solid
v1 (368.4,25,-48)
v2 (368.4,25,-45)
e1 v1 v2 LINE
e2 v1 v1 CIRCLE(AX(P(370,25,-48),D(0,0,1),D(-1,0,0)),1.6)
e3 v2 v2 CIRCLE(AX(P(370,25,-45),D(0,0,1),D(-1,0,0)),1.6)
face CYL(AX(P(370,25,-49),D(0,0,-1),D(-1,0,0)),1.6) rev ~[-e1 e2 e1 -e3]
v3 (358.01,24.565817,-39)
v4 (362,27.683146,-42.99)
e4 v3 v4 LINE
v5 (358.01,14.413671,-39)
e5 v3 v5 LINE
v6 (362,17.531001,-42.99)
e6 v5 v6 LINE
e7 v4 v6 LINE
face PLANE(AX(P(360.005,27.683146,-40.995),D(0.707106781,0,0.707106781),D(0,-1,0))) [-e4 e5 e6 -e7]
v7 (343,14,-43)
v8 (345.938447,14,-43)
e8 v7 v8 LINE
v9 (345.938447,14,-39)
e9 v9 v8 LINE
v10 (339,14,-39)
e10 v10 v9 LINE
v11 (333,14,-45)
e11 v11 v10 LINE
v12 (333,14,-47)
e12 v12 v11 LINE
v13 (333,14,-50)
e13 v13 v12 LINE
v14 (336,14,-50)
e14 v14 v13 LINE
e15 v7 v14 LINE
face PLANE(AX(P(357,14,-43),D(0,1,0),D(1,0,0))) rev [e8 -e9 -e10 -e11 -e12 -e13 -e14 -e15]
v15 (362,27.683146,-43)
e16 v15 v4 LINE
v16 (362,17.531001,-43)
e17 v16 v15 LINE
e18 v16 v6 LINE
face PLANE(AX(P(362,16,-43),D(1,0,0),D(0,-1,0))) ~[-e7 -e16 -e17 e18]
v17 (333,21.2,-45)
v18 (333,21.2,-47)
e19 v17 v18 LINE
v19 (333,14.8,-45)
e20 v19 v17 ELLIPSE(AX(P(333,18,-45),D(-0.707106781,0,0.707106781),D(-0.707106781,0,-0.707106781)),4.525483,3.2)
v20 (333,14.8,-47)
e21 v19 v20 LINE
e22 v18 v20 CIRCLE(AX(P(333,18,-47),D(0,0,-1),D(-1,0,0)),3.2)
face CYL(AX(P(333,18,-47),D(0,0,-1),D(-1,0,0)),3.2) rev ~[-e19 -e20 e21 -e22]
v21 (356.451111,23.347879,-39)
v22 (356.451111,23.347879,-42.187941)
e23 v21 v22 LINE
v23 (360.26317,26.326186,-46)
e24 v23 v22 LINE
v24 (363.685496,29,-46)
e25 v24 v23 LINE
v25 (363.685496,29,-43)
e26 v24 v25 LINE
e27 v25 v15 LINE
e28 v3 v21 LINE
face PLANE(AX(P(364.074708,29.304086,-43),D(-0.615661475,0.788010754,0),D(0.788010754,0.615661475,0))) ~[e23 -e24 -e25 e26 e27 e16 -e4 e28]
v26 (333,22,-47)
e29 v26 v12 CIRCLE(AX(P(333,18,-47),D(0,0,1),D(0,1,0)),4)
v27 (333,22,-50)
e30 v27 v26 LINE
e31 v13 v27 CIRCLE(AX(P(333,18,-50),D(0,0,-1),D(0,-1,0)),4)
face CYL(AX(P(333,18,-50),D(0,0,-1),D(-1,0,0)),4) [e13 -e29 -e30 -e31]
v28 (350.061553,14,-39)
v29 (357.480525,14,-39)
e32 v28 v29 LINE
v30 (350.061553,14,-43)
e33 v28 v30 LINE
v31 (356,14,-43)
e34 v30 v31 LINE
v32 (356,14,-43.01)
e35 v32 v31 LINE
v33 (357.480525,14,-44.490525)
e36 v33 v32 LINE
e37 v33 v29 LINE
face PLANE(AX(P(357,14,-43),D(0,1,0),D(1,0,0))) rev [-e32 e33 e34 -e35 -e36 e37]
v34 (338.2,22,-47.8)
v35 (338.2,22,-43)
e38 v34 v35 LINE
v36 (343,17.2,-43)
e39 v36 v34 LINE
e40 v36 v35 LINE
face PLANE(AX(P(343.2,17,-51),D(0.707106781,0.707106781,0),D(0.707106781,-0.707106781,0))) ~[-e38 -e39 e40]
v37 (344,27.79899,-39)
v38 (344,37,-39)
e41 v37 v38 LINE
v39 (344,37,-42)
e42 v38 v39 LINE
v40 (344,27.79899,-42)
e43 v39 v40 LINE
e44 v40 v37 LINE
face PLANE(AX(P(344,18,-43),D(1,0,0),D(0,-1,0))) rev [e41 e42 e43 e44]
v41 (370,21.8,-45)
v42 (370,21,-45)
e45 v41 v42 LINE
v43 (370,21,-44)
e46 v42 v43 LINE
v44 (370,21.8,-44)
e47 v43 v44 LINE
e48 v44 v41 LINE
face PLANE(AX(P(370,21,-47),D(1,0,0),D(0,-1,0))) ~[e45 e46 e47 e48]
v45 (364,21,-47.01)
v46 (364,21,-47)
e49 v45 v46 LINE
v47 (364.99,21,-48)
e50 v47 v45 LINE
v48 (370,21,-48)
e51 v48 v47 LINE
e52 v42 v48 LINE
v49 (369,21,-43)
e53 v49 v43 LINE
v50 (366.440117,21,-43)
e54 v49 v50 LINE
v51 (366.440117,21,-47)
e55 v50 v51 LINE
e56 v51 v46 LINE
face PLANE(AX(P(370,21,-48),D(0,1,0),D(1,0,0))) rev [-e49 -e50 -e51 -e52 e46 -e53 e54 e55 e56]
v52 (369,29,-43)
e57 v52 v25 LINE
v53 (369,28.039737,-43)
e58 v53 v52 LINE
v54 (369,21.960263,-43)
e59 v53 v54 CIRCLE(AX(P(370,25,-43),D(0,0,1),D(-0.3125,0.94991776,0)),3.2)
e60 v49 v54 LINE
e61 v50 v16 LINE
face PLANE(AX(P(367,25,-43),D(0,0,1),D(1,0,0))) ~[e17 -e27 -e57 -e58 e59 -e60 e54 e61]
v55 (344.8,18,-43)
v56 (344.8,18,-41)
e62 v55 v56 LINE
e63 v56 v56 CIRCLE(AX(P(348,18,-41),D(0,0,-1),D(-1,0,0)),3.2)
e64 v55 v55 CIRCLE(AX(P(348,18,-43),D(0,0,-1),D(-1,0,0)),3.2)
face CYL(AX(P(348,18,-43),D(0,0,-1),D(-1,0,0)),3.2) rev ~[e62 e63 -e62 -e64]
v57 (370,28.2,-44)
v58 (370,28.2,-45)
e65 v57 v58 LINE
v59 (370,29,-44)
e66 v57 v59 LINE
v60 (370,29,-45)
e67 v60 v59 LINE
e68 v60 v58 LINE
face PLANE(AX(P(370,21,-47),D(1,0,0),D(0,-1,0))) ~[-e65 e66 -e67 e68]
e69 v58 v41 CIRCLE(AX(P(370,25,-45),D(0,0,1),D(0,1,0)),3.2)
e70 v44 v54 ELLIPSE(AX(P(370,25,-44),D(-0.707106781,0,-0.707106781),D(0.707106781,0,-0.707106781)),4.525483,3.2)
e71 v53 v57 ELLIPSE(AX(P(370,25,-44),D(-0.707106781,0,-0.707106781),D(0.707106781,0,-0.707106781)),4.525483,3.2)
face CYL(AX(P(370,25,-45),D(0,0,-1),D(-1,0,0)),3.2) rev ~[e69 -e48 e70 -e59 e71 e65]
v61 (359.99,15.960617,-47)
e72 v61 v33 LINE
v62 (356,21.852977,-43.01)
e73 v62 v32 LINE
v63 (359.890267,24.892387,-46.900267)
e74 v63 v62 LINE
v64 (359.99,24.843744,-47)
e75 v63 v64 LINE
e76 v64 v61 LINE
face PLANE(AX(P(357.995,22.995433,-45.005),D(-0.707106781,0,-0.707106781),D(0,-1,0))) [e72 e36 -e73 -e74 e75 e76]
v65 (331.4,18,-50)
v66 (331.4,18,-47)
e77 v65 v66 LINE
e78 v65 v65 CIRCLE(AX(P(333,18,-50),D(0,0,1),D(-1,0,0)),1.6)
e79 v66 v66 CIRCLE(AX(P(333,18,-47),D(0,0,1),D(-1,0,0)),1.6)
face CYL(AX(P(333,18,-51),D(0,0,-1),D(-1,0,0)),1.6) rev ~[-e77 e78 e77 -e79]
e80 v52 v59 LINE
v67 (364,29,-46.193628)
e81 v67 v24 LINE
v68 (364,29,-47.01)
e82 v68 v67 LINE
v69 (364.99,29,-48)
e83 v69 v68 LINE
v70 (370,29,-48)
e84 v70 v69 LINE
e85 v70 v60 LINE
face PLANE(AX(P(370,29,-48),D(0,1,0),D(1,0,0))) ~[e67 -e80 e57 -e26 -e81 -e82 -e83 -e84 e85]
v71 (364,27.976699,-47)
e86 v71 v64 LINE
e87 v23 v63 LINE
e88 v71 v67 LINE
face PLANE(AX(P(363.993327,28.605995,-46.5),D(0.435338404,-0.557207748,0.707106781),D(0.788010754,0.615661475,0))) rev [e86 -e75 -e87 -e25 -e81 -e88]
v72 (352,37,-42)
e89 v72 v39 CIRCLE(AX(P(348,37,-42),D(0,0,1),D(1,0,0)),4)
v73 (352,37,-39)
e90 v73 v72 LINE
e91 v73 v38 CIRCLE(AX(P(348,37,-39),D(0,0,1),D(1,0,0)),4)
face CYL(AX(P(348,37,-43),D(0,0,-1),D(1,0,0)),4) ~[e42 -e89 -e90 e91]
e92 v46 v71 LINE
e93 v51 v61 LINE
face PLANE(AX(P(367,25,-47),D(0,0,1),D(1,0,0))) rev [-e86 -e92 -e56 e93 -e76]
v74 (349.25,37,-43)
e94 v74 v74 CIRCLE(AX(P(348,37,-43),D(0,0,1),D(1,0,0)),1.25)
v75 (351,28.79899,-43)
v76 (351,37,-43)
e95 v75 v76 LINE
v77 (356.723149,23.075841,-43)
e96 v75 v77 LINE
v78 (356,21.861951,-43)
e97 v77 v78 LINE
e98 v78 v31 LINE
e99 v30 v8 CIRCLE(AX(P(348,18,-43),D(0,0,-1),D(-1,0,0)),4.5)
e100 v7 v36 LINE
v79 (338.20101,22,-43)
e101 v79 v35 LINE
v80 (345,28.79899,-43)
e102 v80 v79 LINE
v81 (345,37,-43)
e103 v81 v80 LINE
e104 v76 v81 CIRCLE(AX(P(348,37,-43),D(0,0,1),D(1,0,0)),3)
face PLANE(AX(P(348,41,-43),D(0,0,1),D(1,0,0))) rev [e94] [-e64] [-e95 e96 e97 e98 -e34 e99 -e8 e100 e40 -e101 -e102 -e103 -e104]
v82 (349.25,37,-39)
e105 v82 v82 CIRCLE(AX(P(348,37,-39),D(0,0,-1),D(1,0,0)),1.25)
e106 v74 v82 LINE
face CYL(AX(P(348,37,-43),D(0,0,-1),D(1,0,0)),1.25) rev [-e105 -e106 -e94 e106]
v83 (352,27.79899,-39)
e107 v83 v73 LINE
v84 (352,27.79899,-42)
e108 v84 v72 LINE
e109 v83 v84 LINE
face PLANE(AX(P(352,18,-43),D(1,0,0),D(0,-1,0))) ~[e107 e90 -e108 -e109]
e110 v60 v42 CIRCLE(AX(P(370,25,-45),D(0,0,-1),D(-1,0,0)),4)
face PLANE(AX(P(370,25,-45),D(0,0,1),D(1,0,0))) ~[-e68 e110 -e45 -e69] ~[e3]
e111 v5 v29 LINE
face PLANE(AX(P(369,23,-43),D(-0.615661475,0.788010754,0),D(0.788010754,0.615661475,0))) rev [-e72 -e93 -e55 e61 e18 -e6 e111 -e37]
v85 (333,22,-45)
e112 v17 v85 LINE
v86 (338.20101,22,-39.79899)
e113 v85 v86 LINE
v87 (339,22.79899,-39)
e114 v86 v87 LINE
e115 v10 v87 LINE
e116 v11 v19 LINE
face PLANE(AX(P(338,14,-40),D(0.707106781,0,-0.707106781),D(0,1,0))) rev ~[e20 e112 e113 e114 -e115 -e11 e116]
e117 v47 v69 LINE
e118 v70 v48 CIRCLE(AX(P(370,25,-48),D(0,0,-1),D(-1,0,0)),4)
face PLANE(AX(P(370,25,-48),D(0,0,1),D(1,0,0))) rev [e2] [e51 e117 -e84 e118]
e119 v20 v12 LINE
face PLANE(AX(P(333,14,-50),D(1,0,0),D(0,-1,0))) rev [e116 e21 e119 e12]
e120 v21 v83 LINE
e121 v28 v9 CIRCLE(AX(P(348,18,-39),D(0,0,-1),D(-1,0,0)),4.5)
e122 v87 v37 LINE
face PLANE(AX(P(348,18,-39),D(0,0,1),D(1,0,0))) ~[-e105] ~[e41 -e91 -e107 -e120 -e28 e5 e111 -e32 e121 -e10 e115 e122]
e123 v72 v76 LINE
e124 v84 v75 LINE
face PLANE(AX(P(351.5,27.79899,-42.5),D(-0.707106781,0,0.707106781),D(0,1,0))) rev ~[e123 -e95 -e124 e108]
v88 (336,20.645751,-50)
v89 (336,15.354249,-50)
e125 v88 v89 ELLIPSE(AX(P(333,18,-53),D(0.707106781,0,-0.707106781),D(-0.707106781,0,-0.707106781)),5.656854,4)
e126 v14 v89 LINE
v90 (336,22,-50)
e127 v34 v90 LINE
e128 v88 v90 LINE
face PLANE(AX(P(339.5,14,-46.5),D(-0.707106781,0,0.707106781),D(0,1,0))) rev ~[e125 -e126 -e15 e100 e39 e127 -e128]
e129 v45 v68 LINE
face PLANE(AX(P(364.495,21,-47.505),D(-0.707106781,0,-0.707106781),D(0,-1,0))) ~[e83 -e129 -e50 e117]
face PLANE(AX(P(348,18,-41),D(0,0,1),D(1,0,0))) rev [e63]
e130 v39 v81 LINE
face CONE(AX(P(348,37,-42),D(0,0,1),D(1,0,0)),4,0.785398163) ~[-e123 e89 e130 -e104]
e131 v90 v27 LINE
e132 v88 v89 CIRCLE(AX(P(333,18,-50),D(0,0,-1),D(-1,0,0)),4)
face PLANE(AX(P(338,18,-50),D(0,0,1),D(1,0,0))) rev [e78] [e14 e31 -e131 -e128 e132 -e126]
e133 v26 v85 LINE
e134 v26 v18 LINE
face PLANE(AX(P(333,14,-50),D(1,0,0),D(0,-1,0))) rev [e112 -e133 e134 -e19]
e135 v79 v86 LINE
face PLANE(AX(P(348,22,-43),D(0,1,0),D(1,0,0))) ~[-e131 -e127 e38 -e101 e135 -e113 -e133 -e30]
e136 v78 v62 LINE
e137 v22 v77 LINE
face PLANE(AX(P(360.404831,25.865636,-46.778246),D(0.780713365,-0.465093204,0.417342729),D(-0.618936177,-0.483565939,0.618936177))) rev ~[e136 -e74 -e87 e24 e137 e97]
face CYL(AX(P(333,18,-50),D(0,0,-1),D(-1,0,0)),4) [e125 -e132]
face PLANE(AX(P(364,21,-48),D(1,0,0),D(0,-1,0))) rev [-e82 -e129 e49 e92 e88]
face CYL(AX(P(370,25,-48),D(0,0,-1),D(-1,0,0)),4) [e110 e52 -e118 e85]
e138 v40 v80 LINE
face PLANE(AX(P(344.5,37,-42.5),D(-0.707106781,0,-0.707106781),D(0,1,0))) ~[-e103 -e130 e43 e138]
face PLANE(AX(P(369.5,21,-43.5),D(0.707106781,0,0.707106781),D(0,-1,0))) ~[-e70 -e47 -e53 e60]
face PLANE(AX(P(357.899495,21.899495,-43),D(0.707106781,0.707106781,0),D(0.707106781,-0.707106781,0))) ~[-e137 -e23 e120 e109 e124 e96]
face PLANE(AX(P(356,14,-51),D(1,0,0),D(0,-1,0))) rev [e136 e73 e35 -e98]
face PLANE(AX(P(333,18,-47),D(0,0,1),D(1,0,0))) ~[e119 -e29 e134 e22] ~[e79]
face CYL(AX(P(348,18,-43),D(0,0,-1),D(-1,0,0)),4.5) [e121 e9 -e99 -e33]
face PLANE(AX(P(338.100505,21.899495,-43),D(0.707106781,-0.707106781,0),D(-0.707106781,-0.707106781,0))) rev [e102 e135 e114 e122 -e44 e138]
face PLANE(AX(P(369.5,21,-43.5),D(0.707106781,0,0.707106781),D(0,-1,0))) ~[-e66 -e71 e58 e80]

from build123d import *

# Parameters (mm, degrees)
CYLINDER778_R                     = 1.25
CYLINDER778_DEPTH                 = 5
CYLINDER796_R                     = 4
CYLINDER796_DEPTH                 = 4
BOX526_W                          = 10
BOX526_H                          = 10
BOX526_DEPTH                      = 10
CYLINDER028_R                     = 1.6
CYLINDER028_DEPTH                 = 4
CYLINDER027_R                     = 4
CYLINDER027_DEPTH                 = 4
BOX037_W                          = 10
BOX037_H                          = 10
BOX037_DEPTH                      = 10
CYLINDER776_R                     = 1.6
CYLINDER776_DEPTH                 = 10
BOX509_W                          = 6
BOX509_H                          = 8
BOX509_DEPTH                      = 1
CYLINDER026_R                     = 3.2
CYLINDER026_DEPTH                 = 10
BOX035_W                          = 10
BOX035_H                          = 15
BOX035_DEPTH                      = 10
CYLINDER025_R                     = 1.6
CYLINDER025_DEPTH                 = 10
CYLINDER775_R                     = 1.6
CYLINDER775_DEPTH                 = 10
BOX033_W                          = 10
BOX033_H                          = 10
BOX033_DEPTH                      = 8
BOX033_PLACEMENT_ANGLE            = 45
CYLINDER024_R                     = 3.2
CYLINDER024_DEPTH                 = 10
BOX032_W                          = 10
BOX032_H                          = 8
BOX032_DEPTH                      = 11
CHAMFER082_SIZE                   = 7
CHAMFER083_SIZE                   = 6
CYLINDER774_R                     = 3.2
CYLINDER774_DEPTH                 = 2
BOX507_W                          = 8
BOX507_H                          = 27
BOX507_DEPTH                      = 4
BOX029_W                          = 10
BOX029_H                          = 10
BOX029_DEPTH                      = 4
BOX028_W                          = 14
BOX028_H                          = 14
BOX028_DEPTH                      = 4
BOX028_PLACEMENT_ANGLE            = 45
BOX027_W                          = 10
BOX027_H                          = 10
BOX027_DEPTH                      = 4
BOX026_W                          = 10
BOX026_H                          = 10
BOX026_DEPTH                      = 4
BOX024_W                          = 15
BOX024_H                          = 8
BOX024_DEPTH                      = 4
BOX024_PLACEMENT_ANGLE            = -38
BOX025_W                          = 9
BOX025_H                          = 8
BOX025_DEPTH                      = 4
BOX023_W                          = 6
BOX023_H                          = 8
BOX023_DEPTH                      = 4
CYLINDER773_R                     = 4
CYLINDER773_DEPTH                 = 4
CYLINDER772_R                     = 4.5
CYLINDER772_DEPTH                 = 4
BOX508_W                          = 11
BOX508_H                          = 8
BOX508_DEPTH                      = 4
CHAMFER084_SIZE                   = 2
CYLINDER770_R                     = 4
CYLINDER770_DEPTH                 = 3
CHAMFER086_SIZE                   = 3.99
BOX034_W                          = 10
BOX034_H                          = 11
BOX034_DEPTH                      = 10
CHAMFER085_SIZE                   = 3.99
CYLINDER771_R                     = 4
CYLINDER771_DEPTH                 = 3
CHAMFER087_SIZE                   = 1
CHAMFER088_SIZE                   = 0.99
CHAMFER089_SIZE                   = 1
PART_MIRRORING096_PLACEMENT_ANGLE = 180
CHAMFER099_SIZE                   = 1


with BuildPart() as cylinder984:
    # Cylinder778 → Cylinder778 (new body)
    with BuildSketch(Plane(origin=(348, 37, -43), x_dir=(1, 0, 0), z_dir=(0, 0, 1))):
        Circle(CYLINDER778_R)
    extrude(amount=CYLINDER778_DEPTH)


with BuildPart() as cylinder987:
    # Cylinder796 → Cylinder796 (new body)
    with BuildSketch(Plane(origin=(348, 37, -43), x_dir=(1, 0, 0), z_dir=(0, 0, 1))):
        Circle(CYLINDER796_R)
    extrude(amount=CYLINDER796_DEPTH)


with BuildPart() as cube726:
    # Box526 → Box526 (new body)
    with BuildSketch(Plane(origin=(343, 37, -46), x_dir=(1, 0, 0), z_dir=(0, 0, 1))):
        with Locations((5, 5)):
            Rectangle(BOX526_W, BOX526_H)
    extrude(amount=BOX526_DEPTH)


with BuildPart() as cylinder028:
    # Cylinder028 → Cylinder028 (new body)
    with BuildSketch(Plane(origin=(-15, 23, 8), x_dir=(1, 0, 0), z_dir=(0, 0, 1))):
        Circle(CYLINDER028_R)
    extrude(amount=CYLINDER028_DEPTH)


with BuildPart() as cylinder027:
    # Cylinder027 → Cylinder027 (new body)
    with BuildSketch(Plane(origin=(-15, 23, 8), x_dir=(1, 0, 0), z_dir=(0, 0, 1))):
        Circle(CYLINDER027_R)
    extrude(amount=CYLINDER027_DEPTH)


with BuildPart() as cube037:
    # Box037 → Box037 (new body)
    with BuildSketch(Plane(origin=(-19, 23, 3), x_dir=(1, 0, 0), z_dir=(0, 0, 1))):
        with Locations((5, 5)):
            Rectangle(BOX037_W, BOX037_H)
    extrude(amount=BOX037_DEPTH)


with BuildPart() as cylinder983:
    # Cylinder776 → Cylinder776 (new body)
    with BuildSketch(Plane(origin=(-37, 7, 2), x_dir=(1, 0, 0), z_dir=(0, 0, 1))):
        Circle(CYLINDER776_R)
    extrude(amount=CYLINDER776_DEPTH)


with BuildPart() as cube036:
    # Box509 → Box509 (new body)
    with BuildSketch(Plane(origin=(-37, 3, 3), x_dir=(1, 0, 0), z_dir=(0, 0, 1))):
        with Locations((3, 4)):
            Rectangle(BOX509_W, BOX509_H)
    extrude(amount=BOX509_DEPTH)


with BuildPart() as cylinder026:
    # Cylinder026 → Cylinder026 (new body)
    with BuildSketch(Plane(origin=(-37, 7, 6), x_dir=(1, 0, 0), z_dir=(0, 0, 1))):
        Circle(CYLINDER026_R)
    extrude(amount=CYLINDER026_DEPTH)


with BuildPart() as cube035:
    # Box035 → Box035 (new body)
    with BuildSketch(Plane(origin=(-39, -2, 8), x_dir=(1, 0, 0), z_dir=(0, 0, 1))):
        with Locations((5, 7.5)):
            Rectangle(BOX035_W, BOX035_H)
    extrude(amount=BOX035_DEPTH)


with BuildPart() as cylinder025:
    # Cylinder025 → Cylinder025 (new body)
    with BuildSketch(Plane(origin=(-15, 27, 4), x_dir=(1, 0, 0), z_dir=(0, 0, 1))):
        Circle(CYLINDER025_R)
    extrude(amount=CYLINDER025_DEPTH)


with BuildPart() as fusion023:
    # Cylinder775 → Cylinder775 (new body)
    with BuildSketch(Plane.XY):
        Circle(CYLINDER775_R)
    extrude(amount=CYLINDER775_DEPTH)

    # Fusion023: union Cylinder025
    add(cylinder025.part)


with BuildPart() as cube033:
    # Box033 → Box033 (new body)
    with BuildSketch(Plane.XY):
        with Locations((5, 5)):
            Rectangle(BOX033_W, BOX033_H)
    extrude(amount=BOX033_DEPTH)


with BuildPart() as cube033_1:
    # Box033 placement: moved
    add(cube033.part.moved(Location((-10.2, -1, 0))).rotate(Axis((-10.2, -1, 0), (0, 0, 1)), BOX033_PLACEMENT_ANGLE))


with BuildPart() as cylinder024:
    # Cylinder024 → Cylinder024 (new body)
    with BuildSketch(Plane.XY.offset(4)):
        Circle(CYLINDER024_R)
    extrude(amount=CYLINDER024_DEPTH)


with BuildPart() as chamfer083:
    # Box032 → Box032 (new body)
    with BuildSketch(Plane(origin=(-10, -4, 1), x_dir=(1, 0, 0), z_dir=(0, 0, 1))):
        with Locations((5, 4)):
            Rectangle(BOX032_W, BOX032_H)
    extrude(amount=BOX032_DEPTH)

    # Chamfer082
    chamfer082_edges = [chamfer083.edges().sort_by_distance(p)[0] for p in [
        (-10, 0, 1),
    ]]
    chamfer(chamfer082_edges, length=CHAMFER082_SIZE)

    # Chamfer083
    chamfer083_edges = [chamfer083.edges().sort_by_distance(p)[0] for p in [
        (0, 0, 12),
    ]]
    chamfer(chamfer083_edges, length=CHAMFER083_SIZE)


with BuildPart() as cylinder981:
    # Cylinder774 → Cylinder774 (new body)
    with BuildSketch(Plane(origin=(-15, 0, 8), x_dir=(1, 0, 0), z_dir=(0, 0, 1))):
        Circle(CYLINDER774_R)
    extrude(amount=CYLINDER774_DEPTH)


with BuildPart() as cube021:
    # Box507 → Box507 (new body)
    with BuildSketch(Plane(origin=(-19, 0, 8), x_dir=(1, 0, 0), z_dir=(0, 0, 1))):
        with Locations((4, 13.5)):
            Rectangle(BOX507_W, BOX507_H)
    extrude(amount=BOX507_DEPTH)


with BuildPart() as cube029:
    # Box029 → Box029 (new body)
    with BuildSketch(Plane(origin=(-20, -14, 8), x_dir=(1, 0, 0), z_dir=(0, 0, 1))):
        with Locations((5, 5)):
            Rectangle(BOX029_W, BOX029_H)
    extrude(amount=BOX029_DEPTH)


with BuildPart() as cut013:
    # Box028 → Box028 (new body)
    with BuildSketch(Plane.XY):
        with Locations((7, 7)):
            Rectangle(BOX028_W, BOX028_H)
    extrude(amount=BOX028_DEPTH)


with BuildPart() as cut013_1:
    # Box028 placement: moved
    add(cut013.part.moved(Location((-15, -6, 8))).rotate(Axis((-15, -6, 8), (0, 0, 1)), BOX028_PLACEMENT_ANGLE))

    # Cut013: cut Cube029
    add(cube029.part, mode=Mode.SUBTRACT)


with BuildPart() as cube027:
    # Box027 → Box027 (new body)
    with BuildSketch(Plane(origin=(-35, 11, 8), x_dir=(1, 0, 0), z_dir=(0, 0, 1))):
        with Locations((5, 5)):
            Rectangle(BOX027_W, BOX027_H)
    extrude(amount=BOX027_DEPTH)


with BuildPart() as cube026:
    # Box026 → Box026 (new body)
    with BuildSketch(Plane(origin=(-30, -14, 8), x_dir=(1, 0, 0), z_dir=(0, 0, 1))):
        with Locations((5, 5)):
            Rectangle(BOX026_W, BOX026_H)
    extrude(amount=BOX026_DEPTH)


with BuildPart() as fusion507:
    # Fusion507 base: copy of Cube026
    add(cube026.part)

    # Fusion507: union Cube027
    add(cube027.part)


with BuildPart() as cube709:
    # Box024 → Box024 (new body)
    with BuildSketch(Plane.XY):
        with Locations((7.5, 4)):
            Rectangle(BOX024_W, BOX024_H)
    extrude(amount=BOX024_DEPTH)


with BuildPart() as cube709_1:
    # Box024 placement: moved
    add(cube709.part.moved(Location((-36, 5, 8))).rotate(Axis((-36, 5, 8), (0, 0, 1)), BOX024_PLACEMENT_ANGLE))


with BuildPart() as cube025:
    # Box025 → Box025 (new body)
    with BuildSketch(Plane(origin=(-24, -4, 8), x_dir=(1, 0, 0), z_dir=(0, 0, 1))):
        with Locations((4.5, 4)):
            Rectangle(BOX025_W, BOX025_H)
    extrude(amount=BOX025_DEPTH)


with BuildPart() as cube023:
    # Box023 → Box023 (new body)
    with BuildSketch(Plane(origin=(-37, 3, 8), x_dir=(1, 0, 0), z_dir=(0, 0, 1))):
        with Locations((3, 4)):
            Rectangle(BOX023_W, BOX023_H)
    extrude(amount=BOX023_DEPTH)


with BuildPart() as cut881:
    # Fusion017 base: copy of Cube023
    add(cube023.part)

    # Fusion017: union Cube709, Cube025
    add(cube709_1.part)
    add(cube025.part)

    # Cut609: cut Fusion507
    add(fusion507.part, mode=Mode.SUBTRACT)


with BuildPart() as cylinder980:
    # Cylinder773 → Cylinder773 (new body)
    with BuildSketch(Plane(origin=(-15, 27, 8), x_dir=(1, 0, 0), z_dir=(0, 0, 1))):
        Circle(CYLINDER773_R)
    extrude(amount=CYLINDER773_DEPTH)


with BuildPart() as cylinder979:
    # Cylinder772 → Cylinder772 (new body)
    with BuildSketch(Plane(origin=(-15, 0, 8), x_dir=(1, 0, 0), z_dir=(0, 0, 1))):
        Circle(CYLINDER772_R)
    extrude(amount=CYLINDER772_DEPTH)


with BuildPart() as cut016:
    # Box508 → Box508 (new body)
    with BuildSketch(Plane(origin=(-15, -4, 8), x_dir=(1, 0, 0), z_dir=(0, 0, 1))):
        with Locations((5.5, 4)):
            Rectangle(BOX508_W, BOX508_H)
    extrude(amount=BOX508_DEPTH)

    # Fusion508: union Cube021, Cut013, Cut881, Cylinder980, Cylinder979
    add(cube021.part)
    add(cut013_1.part)
    add(cut881.part)
    add(cylinder980.part)
    add(cylinder979.part)

    # Cut014: cut Cylinder981
    add(cylinder981.part, mode=Mode.SUBTRACT)

    # Chamfer084
    chamfer084_edges = [cut016.edges().sort_by_distance(p)[0] for p in [
        (-4, 0, 12),
    ]]
    chamfer(chamfer084_edges, length=CHAMFER084_SIZE)

    # Fusion020: union Chamfer083
    add(chamfer083.part)

    # Cut015: cut Cylinder024
    add(cylinder024.part, mode=Mode.SUBTRACT)

    # Cut016: cut Cube033
    add(cube033_1.part, mode=Mode.SUBTRACT)


with BuildPart() as chamfer086:
    # Cylinder770 → Cylinder770 (new body)
    with BuildSketch(Plane.XY.offset(1)):
        Circle(CYLINDER770_R)
    extrude(amount=CYLINDER770_DEPTH)

    # Fusion022: union Cut016
    add(cut016.part)

    # Cut017: cut Fusion023
    add(fusion023.part, mode=Mode.SUBTRACT)

    # Cut613: cut Cube035
    add(cube035.part, mode=Mode.SUBTRACT)

    # Chamfer086
    chamfer086_edges = [chamfer086.edges().sort_by_distance(p)[0] for p in [
        (-29, 4.607073, 12),
    ]]
    chamfer(chamfer086_edges, length=CHAMFER086_SIZE)


with BuildPart() as cube034:
    # Box034 → Box034 (new body)
    with BuildSketch(Plane(origin=(-23, -4, 0), x_dir=(1, 0, 0), z_dir=(0, 0, 1))):
        with Locations((5, 5.5)):
            Rectangle(BOX034_W, BOX034_H)
    extrude(amount=BOX034_DEPTH)


with BuildPart() as fusion024:
    # Fusion024 base: copy of Cube026
    add(cube026.part)

    # Fusion024: union Cube027
    add(cube027.part)


with BuildPart() as fusion026:
    # Fusion025 base: copy of Cube023
    add(cube023.part)

    # Fusion025: union Cube709, Cube025
    add(cube709_1.part)
    add(cube025.part)

    # Cut611: cut Fusion024
    add(fusion024.part, mode=Mode.SUBTRACT)


with BuildPart() as fusion026_1:
    # Cut611 placement: moved
    add(fusion026.part.moved(Location((0, 0, -4))))

    # Cut612: cut Cube034
    add(cube034.part, mode=Mode.SUBTRACT)

    # Chamfer085
    chamfer085_edges = [fusion026_1.edges().sort_by_distance(p)[0] for p in [
        (-23, 0.497716, 4),
    ]]
    chamfer(chamfer085_edges, length=CHAMFER085_SIZE)

    # Fusion026: union Chamfer086
    add(chamfer086.part)


with BuildPart() as cut024:
    # Cylinder771 → Cylinder771 (new body)
    with BuildSketch(Plane(origin=(-37, 7, 3), x_dir=(1, 0, 0), z_dir=(0, 0, 1))):
        Circle(CYLINDER771_R)
    extrude(amount=CYLINDER771_DEPTH)

    # Fusion027: union Fusion026
    add(fusion026_1.part)

    # Chamfer087
    chamfer087_edges = [cut024.edges().sort_by_distance(p)[0] for p in [
        (-37, 7, 8),
    ]]
    chamfer(chamfer087_edges, length=CHAMFER087_SIZE)

    # Cut614: cut Cylinder026
    add(cylinder026.part, mode=Mode.SUBTRACT)

    # Fusion028: union Cube036
    add(cube036.part)

    # Chamfer088
    chamfer088_edges = [cut024.edges().sort_by_distance(p)[0] for p in [
        (-31, 7, 3),
    ]]
    chamfer(chamfer088_edges, length=CHAMFER088_SIZE)

    # Cut022: cut Cylinder983
    add(cylinder983.part, mode=Mode.SUBTRACT)

    # Chamfer089
    chamfer089_edges = [cut024.edges().sort_by_distance(p)[0] for p in [
        (-28.837748, 9.556381, 4),
        (-24.995, 6.554097, 5.995),
    ]]
    chamfer(chamfer089_edges, length=CHAMFER089_SIZE)

    # Cut023: cut Cube037
    add(cube037.part, mode=Mode.SUBTRACT)

    # Fusion509: union Cylinder027
    add(cylinder027.part)

    # Cut024: cut Cylinder028
    add(cylinder028.part, mode=Mode.SUBTRACT)


with BuildPart() as central_axle_steering_knukle:
    # Part__Mirroring096: instance of Cut024
    add(cut024.part.mirror(Plane(origin=(0, 0, 0), x_dir=(1, 0, 0), z_dir=(0, 1, 0))))


with BuildPart() as central_axle_steering_knukle_1:
    # Part__Mirroring096 placement: moved
    add(central_axle_steering_knukle.part.moved(Location((333, 18, -51))).rotate(Axis((333, 18, -51), (0, 0, 1)), PART_MIRRORING096_PLACEMENT_ANGLE))

    # Cut630: cut Cube726
    add(cube726.part, mode=Mode.SUBTRACT)

    # Fusion526: union Cylinder987
    add(cylinder987.part)

    # Cut631: cut Cylinder984
    add(cylinder984.part, mode=Mode.SUBTRACT)

    # Chamfer099
    chamfer099_edges = [central_axle_steering_knukle_1.edges().sort_by_distance(p)[0] for p in [
        (352, 32.399495, -43),
        (348, 41, -43),
        (344, 32.399495, -43),
    ]]
    chamfer(chamfer099_edges, length=CHAMFER099_SIZE)


solid = central_axle_steering_knukle_1.part
